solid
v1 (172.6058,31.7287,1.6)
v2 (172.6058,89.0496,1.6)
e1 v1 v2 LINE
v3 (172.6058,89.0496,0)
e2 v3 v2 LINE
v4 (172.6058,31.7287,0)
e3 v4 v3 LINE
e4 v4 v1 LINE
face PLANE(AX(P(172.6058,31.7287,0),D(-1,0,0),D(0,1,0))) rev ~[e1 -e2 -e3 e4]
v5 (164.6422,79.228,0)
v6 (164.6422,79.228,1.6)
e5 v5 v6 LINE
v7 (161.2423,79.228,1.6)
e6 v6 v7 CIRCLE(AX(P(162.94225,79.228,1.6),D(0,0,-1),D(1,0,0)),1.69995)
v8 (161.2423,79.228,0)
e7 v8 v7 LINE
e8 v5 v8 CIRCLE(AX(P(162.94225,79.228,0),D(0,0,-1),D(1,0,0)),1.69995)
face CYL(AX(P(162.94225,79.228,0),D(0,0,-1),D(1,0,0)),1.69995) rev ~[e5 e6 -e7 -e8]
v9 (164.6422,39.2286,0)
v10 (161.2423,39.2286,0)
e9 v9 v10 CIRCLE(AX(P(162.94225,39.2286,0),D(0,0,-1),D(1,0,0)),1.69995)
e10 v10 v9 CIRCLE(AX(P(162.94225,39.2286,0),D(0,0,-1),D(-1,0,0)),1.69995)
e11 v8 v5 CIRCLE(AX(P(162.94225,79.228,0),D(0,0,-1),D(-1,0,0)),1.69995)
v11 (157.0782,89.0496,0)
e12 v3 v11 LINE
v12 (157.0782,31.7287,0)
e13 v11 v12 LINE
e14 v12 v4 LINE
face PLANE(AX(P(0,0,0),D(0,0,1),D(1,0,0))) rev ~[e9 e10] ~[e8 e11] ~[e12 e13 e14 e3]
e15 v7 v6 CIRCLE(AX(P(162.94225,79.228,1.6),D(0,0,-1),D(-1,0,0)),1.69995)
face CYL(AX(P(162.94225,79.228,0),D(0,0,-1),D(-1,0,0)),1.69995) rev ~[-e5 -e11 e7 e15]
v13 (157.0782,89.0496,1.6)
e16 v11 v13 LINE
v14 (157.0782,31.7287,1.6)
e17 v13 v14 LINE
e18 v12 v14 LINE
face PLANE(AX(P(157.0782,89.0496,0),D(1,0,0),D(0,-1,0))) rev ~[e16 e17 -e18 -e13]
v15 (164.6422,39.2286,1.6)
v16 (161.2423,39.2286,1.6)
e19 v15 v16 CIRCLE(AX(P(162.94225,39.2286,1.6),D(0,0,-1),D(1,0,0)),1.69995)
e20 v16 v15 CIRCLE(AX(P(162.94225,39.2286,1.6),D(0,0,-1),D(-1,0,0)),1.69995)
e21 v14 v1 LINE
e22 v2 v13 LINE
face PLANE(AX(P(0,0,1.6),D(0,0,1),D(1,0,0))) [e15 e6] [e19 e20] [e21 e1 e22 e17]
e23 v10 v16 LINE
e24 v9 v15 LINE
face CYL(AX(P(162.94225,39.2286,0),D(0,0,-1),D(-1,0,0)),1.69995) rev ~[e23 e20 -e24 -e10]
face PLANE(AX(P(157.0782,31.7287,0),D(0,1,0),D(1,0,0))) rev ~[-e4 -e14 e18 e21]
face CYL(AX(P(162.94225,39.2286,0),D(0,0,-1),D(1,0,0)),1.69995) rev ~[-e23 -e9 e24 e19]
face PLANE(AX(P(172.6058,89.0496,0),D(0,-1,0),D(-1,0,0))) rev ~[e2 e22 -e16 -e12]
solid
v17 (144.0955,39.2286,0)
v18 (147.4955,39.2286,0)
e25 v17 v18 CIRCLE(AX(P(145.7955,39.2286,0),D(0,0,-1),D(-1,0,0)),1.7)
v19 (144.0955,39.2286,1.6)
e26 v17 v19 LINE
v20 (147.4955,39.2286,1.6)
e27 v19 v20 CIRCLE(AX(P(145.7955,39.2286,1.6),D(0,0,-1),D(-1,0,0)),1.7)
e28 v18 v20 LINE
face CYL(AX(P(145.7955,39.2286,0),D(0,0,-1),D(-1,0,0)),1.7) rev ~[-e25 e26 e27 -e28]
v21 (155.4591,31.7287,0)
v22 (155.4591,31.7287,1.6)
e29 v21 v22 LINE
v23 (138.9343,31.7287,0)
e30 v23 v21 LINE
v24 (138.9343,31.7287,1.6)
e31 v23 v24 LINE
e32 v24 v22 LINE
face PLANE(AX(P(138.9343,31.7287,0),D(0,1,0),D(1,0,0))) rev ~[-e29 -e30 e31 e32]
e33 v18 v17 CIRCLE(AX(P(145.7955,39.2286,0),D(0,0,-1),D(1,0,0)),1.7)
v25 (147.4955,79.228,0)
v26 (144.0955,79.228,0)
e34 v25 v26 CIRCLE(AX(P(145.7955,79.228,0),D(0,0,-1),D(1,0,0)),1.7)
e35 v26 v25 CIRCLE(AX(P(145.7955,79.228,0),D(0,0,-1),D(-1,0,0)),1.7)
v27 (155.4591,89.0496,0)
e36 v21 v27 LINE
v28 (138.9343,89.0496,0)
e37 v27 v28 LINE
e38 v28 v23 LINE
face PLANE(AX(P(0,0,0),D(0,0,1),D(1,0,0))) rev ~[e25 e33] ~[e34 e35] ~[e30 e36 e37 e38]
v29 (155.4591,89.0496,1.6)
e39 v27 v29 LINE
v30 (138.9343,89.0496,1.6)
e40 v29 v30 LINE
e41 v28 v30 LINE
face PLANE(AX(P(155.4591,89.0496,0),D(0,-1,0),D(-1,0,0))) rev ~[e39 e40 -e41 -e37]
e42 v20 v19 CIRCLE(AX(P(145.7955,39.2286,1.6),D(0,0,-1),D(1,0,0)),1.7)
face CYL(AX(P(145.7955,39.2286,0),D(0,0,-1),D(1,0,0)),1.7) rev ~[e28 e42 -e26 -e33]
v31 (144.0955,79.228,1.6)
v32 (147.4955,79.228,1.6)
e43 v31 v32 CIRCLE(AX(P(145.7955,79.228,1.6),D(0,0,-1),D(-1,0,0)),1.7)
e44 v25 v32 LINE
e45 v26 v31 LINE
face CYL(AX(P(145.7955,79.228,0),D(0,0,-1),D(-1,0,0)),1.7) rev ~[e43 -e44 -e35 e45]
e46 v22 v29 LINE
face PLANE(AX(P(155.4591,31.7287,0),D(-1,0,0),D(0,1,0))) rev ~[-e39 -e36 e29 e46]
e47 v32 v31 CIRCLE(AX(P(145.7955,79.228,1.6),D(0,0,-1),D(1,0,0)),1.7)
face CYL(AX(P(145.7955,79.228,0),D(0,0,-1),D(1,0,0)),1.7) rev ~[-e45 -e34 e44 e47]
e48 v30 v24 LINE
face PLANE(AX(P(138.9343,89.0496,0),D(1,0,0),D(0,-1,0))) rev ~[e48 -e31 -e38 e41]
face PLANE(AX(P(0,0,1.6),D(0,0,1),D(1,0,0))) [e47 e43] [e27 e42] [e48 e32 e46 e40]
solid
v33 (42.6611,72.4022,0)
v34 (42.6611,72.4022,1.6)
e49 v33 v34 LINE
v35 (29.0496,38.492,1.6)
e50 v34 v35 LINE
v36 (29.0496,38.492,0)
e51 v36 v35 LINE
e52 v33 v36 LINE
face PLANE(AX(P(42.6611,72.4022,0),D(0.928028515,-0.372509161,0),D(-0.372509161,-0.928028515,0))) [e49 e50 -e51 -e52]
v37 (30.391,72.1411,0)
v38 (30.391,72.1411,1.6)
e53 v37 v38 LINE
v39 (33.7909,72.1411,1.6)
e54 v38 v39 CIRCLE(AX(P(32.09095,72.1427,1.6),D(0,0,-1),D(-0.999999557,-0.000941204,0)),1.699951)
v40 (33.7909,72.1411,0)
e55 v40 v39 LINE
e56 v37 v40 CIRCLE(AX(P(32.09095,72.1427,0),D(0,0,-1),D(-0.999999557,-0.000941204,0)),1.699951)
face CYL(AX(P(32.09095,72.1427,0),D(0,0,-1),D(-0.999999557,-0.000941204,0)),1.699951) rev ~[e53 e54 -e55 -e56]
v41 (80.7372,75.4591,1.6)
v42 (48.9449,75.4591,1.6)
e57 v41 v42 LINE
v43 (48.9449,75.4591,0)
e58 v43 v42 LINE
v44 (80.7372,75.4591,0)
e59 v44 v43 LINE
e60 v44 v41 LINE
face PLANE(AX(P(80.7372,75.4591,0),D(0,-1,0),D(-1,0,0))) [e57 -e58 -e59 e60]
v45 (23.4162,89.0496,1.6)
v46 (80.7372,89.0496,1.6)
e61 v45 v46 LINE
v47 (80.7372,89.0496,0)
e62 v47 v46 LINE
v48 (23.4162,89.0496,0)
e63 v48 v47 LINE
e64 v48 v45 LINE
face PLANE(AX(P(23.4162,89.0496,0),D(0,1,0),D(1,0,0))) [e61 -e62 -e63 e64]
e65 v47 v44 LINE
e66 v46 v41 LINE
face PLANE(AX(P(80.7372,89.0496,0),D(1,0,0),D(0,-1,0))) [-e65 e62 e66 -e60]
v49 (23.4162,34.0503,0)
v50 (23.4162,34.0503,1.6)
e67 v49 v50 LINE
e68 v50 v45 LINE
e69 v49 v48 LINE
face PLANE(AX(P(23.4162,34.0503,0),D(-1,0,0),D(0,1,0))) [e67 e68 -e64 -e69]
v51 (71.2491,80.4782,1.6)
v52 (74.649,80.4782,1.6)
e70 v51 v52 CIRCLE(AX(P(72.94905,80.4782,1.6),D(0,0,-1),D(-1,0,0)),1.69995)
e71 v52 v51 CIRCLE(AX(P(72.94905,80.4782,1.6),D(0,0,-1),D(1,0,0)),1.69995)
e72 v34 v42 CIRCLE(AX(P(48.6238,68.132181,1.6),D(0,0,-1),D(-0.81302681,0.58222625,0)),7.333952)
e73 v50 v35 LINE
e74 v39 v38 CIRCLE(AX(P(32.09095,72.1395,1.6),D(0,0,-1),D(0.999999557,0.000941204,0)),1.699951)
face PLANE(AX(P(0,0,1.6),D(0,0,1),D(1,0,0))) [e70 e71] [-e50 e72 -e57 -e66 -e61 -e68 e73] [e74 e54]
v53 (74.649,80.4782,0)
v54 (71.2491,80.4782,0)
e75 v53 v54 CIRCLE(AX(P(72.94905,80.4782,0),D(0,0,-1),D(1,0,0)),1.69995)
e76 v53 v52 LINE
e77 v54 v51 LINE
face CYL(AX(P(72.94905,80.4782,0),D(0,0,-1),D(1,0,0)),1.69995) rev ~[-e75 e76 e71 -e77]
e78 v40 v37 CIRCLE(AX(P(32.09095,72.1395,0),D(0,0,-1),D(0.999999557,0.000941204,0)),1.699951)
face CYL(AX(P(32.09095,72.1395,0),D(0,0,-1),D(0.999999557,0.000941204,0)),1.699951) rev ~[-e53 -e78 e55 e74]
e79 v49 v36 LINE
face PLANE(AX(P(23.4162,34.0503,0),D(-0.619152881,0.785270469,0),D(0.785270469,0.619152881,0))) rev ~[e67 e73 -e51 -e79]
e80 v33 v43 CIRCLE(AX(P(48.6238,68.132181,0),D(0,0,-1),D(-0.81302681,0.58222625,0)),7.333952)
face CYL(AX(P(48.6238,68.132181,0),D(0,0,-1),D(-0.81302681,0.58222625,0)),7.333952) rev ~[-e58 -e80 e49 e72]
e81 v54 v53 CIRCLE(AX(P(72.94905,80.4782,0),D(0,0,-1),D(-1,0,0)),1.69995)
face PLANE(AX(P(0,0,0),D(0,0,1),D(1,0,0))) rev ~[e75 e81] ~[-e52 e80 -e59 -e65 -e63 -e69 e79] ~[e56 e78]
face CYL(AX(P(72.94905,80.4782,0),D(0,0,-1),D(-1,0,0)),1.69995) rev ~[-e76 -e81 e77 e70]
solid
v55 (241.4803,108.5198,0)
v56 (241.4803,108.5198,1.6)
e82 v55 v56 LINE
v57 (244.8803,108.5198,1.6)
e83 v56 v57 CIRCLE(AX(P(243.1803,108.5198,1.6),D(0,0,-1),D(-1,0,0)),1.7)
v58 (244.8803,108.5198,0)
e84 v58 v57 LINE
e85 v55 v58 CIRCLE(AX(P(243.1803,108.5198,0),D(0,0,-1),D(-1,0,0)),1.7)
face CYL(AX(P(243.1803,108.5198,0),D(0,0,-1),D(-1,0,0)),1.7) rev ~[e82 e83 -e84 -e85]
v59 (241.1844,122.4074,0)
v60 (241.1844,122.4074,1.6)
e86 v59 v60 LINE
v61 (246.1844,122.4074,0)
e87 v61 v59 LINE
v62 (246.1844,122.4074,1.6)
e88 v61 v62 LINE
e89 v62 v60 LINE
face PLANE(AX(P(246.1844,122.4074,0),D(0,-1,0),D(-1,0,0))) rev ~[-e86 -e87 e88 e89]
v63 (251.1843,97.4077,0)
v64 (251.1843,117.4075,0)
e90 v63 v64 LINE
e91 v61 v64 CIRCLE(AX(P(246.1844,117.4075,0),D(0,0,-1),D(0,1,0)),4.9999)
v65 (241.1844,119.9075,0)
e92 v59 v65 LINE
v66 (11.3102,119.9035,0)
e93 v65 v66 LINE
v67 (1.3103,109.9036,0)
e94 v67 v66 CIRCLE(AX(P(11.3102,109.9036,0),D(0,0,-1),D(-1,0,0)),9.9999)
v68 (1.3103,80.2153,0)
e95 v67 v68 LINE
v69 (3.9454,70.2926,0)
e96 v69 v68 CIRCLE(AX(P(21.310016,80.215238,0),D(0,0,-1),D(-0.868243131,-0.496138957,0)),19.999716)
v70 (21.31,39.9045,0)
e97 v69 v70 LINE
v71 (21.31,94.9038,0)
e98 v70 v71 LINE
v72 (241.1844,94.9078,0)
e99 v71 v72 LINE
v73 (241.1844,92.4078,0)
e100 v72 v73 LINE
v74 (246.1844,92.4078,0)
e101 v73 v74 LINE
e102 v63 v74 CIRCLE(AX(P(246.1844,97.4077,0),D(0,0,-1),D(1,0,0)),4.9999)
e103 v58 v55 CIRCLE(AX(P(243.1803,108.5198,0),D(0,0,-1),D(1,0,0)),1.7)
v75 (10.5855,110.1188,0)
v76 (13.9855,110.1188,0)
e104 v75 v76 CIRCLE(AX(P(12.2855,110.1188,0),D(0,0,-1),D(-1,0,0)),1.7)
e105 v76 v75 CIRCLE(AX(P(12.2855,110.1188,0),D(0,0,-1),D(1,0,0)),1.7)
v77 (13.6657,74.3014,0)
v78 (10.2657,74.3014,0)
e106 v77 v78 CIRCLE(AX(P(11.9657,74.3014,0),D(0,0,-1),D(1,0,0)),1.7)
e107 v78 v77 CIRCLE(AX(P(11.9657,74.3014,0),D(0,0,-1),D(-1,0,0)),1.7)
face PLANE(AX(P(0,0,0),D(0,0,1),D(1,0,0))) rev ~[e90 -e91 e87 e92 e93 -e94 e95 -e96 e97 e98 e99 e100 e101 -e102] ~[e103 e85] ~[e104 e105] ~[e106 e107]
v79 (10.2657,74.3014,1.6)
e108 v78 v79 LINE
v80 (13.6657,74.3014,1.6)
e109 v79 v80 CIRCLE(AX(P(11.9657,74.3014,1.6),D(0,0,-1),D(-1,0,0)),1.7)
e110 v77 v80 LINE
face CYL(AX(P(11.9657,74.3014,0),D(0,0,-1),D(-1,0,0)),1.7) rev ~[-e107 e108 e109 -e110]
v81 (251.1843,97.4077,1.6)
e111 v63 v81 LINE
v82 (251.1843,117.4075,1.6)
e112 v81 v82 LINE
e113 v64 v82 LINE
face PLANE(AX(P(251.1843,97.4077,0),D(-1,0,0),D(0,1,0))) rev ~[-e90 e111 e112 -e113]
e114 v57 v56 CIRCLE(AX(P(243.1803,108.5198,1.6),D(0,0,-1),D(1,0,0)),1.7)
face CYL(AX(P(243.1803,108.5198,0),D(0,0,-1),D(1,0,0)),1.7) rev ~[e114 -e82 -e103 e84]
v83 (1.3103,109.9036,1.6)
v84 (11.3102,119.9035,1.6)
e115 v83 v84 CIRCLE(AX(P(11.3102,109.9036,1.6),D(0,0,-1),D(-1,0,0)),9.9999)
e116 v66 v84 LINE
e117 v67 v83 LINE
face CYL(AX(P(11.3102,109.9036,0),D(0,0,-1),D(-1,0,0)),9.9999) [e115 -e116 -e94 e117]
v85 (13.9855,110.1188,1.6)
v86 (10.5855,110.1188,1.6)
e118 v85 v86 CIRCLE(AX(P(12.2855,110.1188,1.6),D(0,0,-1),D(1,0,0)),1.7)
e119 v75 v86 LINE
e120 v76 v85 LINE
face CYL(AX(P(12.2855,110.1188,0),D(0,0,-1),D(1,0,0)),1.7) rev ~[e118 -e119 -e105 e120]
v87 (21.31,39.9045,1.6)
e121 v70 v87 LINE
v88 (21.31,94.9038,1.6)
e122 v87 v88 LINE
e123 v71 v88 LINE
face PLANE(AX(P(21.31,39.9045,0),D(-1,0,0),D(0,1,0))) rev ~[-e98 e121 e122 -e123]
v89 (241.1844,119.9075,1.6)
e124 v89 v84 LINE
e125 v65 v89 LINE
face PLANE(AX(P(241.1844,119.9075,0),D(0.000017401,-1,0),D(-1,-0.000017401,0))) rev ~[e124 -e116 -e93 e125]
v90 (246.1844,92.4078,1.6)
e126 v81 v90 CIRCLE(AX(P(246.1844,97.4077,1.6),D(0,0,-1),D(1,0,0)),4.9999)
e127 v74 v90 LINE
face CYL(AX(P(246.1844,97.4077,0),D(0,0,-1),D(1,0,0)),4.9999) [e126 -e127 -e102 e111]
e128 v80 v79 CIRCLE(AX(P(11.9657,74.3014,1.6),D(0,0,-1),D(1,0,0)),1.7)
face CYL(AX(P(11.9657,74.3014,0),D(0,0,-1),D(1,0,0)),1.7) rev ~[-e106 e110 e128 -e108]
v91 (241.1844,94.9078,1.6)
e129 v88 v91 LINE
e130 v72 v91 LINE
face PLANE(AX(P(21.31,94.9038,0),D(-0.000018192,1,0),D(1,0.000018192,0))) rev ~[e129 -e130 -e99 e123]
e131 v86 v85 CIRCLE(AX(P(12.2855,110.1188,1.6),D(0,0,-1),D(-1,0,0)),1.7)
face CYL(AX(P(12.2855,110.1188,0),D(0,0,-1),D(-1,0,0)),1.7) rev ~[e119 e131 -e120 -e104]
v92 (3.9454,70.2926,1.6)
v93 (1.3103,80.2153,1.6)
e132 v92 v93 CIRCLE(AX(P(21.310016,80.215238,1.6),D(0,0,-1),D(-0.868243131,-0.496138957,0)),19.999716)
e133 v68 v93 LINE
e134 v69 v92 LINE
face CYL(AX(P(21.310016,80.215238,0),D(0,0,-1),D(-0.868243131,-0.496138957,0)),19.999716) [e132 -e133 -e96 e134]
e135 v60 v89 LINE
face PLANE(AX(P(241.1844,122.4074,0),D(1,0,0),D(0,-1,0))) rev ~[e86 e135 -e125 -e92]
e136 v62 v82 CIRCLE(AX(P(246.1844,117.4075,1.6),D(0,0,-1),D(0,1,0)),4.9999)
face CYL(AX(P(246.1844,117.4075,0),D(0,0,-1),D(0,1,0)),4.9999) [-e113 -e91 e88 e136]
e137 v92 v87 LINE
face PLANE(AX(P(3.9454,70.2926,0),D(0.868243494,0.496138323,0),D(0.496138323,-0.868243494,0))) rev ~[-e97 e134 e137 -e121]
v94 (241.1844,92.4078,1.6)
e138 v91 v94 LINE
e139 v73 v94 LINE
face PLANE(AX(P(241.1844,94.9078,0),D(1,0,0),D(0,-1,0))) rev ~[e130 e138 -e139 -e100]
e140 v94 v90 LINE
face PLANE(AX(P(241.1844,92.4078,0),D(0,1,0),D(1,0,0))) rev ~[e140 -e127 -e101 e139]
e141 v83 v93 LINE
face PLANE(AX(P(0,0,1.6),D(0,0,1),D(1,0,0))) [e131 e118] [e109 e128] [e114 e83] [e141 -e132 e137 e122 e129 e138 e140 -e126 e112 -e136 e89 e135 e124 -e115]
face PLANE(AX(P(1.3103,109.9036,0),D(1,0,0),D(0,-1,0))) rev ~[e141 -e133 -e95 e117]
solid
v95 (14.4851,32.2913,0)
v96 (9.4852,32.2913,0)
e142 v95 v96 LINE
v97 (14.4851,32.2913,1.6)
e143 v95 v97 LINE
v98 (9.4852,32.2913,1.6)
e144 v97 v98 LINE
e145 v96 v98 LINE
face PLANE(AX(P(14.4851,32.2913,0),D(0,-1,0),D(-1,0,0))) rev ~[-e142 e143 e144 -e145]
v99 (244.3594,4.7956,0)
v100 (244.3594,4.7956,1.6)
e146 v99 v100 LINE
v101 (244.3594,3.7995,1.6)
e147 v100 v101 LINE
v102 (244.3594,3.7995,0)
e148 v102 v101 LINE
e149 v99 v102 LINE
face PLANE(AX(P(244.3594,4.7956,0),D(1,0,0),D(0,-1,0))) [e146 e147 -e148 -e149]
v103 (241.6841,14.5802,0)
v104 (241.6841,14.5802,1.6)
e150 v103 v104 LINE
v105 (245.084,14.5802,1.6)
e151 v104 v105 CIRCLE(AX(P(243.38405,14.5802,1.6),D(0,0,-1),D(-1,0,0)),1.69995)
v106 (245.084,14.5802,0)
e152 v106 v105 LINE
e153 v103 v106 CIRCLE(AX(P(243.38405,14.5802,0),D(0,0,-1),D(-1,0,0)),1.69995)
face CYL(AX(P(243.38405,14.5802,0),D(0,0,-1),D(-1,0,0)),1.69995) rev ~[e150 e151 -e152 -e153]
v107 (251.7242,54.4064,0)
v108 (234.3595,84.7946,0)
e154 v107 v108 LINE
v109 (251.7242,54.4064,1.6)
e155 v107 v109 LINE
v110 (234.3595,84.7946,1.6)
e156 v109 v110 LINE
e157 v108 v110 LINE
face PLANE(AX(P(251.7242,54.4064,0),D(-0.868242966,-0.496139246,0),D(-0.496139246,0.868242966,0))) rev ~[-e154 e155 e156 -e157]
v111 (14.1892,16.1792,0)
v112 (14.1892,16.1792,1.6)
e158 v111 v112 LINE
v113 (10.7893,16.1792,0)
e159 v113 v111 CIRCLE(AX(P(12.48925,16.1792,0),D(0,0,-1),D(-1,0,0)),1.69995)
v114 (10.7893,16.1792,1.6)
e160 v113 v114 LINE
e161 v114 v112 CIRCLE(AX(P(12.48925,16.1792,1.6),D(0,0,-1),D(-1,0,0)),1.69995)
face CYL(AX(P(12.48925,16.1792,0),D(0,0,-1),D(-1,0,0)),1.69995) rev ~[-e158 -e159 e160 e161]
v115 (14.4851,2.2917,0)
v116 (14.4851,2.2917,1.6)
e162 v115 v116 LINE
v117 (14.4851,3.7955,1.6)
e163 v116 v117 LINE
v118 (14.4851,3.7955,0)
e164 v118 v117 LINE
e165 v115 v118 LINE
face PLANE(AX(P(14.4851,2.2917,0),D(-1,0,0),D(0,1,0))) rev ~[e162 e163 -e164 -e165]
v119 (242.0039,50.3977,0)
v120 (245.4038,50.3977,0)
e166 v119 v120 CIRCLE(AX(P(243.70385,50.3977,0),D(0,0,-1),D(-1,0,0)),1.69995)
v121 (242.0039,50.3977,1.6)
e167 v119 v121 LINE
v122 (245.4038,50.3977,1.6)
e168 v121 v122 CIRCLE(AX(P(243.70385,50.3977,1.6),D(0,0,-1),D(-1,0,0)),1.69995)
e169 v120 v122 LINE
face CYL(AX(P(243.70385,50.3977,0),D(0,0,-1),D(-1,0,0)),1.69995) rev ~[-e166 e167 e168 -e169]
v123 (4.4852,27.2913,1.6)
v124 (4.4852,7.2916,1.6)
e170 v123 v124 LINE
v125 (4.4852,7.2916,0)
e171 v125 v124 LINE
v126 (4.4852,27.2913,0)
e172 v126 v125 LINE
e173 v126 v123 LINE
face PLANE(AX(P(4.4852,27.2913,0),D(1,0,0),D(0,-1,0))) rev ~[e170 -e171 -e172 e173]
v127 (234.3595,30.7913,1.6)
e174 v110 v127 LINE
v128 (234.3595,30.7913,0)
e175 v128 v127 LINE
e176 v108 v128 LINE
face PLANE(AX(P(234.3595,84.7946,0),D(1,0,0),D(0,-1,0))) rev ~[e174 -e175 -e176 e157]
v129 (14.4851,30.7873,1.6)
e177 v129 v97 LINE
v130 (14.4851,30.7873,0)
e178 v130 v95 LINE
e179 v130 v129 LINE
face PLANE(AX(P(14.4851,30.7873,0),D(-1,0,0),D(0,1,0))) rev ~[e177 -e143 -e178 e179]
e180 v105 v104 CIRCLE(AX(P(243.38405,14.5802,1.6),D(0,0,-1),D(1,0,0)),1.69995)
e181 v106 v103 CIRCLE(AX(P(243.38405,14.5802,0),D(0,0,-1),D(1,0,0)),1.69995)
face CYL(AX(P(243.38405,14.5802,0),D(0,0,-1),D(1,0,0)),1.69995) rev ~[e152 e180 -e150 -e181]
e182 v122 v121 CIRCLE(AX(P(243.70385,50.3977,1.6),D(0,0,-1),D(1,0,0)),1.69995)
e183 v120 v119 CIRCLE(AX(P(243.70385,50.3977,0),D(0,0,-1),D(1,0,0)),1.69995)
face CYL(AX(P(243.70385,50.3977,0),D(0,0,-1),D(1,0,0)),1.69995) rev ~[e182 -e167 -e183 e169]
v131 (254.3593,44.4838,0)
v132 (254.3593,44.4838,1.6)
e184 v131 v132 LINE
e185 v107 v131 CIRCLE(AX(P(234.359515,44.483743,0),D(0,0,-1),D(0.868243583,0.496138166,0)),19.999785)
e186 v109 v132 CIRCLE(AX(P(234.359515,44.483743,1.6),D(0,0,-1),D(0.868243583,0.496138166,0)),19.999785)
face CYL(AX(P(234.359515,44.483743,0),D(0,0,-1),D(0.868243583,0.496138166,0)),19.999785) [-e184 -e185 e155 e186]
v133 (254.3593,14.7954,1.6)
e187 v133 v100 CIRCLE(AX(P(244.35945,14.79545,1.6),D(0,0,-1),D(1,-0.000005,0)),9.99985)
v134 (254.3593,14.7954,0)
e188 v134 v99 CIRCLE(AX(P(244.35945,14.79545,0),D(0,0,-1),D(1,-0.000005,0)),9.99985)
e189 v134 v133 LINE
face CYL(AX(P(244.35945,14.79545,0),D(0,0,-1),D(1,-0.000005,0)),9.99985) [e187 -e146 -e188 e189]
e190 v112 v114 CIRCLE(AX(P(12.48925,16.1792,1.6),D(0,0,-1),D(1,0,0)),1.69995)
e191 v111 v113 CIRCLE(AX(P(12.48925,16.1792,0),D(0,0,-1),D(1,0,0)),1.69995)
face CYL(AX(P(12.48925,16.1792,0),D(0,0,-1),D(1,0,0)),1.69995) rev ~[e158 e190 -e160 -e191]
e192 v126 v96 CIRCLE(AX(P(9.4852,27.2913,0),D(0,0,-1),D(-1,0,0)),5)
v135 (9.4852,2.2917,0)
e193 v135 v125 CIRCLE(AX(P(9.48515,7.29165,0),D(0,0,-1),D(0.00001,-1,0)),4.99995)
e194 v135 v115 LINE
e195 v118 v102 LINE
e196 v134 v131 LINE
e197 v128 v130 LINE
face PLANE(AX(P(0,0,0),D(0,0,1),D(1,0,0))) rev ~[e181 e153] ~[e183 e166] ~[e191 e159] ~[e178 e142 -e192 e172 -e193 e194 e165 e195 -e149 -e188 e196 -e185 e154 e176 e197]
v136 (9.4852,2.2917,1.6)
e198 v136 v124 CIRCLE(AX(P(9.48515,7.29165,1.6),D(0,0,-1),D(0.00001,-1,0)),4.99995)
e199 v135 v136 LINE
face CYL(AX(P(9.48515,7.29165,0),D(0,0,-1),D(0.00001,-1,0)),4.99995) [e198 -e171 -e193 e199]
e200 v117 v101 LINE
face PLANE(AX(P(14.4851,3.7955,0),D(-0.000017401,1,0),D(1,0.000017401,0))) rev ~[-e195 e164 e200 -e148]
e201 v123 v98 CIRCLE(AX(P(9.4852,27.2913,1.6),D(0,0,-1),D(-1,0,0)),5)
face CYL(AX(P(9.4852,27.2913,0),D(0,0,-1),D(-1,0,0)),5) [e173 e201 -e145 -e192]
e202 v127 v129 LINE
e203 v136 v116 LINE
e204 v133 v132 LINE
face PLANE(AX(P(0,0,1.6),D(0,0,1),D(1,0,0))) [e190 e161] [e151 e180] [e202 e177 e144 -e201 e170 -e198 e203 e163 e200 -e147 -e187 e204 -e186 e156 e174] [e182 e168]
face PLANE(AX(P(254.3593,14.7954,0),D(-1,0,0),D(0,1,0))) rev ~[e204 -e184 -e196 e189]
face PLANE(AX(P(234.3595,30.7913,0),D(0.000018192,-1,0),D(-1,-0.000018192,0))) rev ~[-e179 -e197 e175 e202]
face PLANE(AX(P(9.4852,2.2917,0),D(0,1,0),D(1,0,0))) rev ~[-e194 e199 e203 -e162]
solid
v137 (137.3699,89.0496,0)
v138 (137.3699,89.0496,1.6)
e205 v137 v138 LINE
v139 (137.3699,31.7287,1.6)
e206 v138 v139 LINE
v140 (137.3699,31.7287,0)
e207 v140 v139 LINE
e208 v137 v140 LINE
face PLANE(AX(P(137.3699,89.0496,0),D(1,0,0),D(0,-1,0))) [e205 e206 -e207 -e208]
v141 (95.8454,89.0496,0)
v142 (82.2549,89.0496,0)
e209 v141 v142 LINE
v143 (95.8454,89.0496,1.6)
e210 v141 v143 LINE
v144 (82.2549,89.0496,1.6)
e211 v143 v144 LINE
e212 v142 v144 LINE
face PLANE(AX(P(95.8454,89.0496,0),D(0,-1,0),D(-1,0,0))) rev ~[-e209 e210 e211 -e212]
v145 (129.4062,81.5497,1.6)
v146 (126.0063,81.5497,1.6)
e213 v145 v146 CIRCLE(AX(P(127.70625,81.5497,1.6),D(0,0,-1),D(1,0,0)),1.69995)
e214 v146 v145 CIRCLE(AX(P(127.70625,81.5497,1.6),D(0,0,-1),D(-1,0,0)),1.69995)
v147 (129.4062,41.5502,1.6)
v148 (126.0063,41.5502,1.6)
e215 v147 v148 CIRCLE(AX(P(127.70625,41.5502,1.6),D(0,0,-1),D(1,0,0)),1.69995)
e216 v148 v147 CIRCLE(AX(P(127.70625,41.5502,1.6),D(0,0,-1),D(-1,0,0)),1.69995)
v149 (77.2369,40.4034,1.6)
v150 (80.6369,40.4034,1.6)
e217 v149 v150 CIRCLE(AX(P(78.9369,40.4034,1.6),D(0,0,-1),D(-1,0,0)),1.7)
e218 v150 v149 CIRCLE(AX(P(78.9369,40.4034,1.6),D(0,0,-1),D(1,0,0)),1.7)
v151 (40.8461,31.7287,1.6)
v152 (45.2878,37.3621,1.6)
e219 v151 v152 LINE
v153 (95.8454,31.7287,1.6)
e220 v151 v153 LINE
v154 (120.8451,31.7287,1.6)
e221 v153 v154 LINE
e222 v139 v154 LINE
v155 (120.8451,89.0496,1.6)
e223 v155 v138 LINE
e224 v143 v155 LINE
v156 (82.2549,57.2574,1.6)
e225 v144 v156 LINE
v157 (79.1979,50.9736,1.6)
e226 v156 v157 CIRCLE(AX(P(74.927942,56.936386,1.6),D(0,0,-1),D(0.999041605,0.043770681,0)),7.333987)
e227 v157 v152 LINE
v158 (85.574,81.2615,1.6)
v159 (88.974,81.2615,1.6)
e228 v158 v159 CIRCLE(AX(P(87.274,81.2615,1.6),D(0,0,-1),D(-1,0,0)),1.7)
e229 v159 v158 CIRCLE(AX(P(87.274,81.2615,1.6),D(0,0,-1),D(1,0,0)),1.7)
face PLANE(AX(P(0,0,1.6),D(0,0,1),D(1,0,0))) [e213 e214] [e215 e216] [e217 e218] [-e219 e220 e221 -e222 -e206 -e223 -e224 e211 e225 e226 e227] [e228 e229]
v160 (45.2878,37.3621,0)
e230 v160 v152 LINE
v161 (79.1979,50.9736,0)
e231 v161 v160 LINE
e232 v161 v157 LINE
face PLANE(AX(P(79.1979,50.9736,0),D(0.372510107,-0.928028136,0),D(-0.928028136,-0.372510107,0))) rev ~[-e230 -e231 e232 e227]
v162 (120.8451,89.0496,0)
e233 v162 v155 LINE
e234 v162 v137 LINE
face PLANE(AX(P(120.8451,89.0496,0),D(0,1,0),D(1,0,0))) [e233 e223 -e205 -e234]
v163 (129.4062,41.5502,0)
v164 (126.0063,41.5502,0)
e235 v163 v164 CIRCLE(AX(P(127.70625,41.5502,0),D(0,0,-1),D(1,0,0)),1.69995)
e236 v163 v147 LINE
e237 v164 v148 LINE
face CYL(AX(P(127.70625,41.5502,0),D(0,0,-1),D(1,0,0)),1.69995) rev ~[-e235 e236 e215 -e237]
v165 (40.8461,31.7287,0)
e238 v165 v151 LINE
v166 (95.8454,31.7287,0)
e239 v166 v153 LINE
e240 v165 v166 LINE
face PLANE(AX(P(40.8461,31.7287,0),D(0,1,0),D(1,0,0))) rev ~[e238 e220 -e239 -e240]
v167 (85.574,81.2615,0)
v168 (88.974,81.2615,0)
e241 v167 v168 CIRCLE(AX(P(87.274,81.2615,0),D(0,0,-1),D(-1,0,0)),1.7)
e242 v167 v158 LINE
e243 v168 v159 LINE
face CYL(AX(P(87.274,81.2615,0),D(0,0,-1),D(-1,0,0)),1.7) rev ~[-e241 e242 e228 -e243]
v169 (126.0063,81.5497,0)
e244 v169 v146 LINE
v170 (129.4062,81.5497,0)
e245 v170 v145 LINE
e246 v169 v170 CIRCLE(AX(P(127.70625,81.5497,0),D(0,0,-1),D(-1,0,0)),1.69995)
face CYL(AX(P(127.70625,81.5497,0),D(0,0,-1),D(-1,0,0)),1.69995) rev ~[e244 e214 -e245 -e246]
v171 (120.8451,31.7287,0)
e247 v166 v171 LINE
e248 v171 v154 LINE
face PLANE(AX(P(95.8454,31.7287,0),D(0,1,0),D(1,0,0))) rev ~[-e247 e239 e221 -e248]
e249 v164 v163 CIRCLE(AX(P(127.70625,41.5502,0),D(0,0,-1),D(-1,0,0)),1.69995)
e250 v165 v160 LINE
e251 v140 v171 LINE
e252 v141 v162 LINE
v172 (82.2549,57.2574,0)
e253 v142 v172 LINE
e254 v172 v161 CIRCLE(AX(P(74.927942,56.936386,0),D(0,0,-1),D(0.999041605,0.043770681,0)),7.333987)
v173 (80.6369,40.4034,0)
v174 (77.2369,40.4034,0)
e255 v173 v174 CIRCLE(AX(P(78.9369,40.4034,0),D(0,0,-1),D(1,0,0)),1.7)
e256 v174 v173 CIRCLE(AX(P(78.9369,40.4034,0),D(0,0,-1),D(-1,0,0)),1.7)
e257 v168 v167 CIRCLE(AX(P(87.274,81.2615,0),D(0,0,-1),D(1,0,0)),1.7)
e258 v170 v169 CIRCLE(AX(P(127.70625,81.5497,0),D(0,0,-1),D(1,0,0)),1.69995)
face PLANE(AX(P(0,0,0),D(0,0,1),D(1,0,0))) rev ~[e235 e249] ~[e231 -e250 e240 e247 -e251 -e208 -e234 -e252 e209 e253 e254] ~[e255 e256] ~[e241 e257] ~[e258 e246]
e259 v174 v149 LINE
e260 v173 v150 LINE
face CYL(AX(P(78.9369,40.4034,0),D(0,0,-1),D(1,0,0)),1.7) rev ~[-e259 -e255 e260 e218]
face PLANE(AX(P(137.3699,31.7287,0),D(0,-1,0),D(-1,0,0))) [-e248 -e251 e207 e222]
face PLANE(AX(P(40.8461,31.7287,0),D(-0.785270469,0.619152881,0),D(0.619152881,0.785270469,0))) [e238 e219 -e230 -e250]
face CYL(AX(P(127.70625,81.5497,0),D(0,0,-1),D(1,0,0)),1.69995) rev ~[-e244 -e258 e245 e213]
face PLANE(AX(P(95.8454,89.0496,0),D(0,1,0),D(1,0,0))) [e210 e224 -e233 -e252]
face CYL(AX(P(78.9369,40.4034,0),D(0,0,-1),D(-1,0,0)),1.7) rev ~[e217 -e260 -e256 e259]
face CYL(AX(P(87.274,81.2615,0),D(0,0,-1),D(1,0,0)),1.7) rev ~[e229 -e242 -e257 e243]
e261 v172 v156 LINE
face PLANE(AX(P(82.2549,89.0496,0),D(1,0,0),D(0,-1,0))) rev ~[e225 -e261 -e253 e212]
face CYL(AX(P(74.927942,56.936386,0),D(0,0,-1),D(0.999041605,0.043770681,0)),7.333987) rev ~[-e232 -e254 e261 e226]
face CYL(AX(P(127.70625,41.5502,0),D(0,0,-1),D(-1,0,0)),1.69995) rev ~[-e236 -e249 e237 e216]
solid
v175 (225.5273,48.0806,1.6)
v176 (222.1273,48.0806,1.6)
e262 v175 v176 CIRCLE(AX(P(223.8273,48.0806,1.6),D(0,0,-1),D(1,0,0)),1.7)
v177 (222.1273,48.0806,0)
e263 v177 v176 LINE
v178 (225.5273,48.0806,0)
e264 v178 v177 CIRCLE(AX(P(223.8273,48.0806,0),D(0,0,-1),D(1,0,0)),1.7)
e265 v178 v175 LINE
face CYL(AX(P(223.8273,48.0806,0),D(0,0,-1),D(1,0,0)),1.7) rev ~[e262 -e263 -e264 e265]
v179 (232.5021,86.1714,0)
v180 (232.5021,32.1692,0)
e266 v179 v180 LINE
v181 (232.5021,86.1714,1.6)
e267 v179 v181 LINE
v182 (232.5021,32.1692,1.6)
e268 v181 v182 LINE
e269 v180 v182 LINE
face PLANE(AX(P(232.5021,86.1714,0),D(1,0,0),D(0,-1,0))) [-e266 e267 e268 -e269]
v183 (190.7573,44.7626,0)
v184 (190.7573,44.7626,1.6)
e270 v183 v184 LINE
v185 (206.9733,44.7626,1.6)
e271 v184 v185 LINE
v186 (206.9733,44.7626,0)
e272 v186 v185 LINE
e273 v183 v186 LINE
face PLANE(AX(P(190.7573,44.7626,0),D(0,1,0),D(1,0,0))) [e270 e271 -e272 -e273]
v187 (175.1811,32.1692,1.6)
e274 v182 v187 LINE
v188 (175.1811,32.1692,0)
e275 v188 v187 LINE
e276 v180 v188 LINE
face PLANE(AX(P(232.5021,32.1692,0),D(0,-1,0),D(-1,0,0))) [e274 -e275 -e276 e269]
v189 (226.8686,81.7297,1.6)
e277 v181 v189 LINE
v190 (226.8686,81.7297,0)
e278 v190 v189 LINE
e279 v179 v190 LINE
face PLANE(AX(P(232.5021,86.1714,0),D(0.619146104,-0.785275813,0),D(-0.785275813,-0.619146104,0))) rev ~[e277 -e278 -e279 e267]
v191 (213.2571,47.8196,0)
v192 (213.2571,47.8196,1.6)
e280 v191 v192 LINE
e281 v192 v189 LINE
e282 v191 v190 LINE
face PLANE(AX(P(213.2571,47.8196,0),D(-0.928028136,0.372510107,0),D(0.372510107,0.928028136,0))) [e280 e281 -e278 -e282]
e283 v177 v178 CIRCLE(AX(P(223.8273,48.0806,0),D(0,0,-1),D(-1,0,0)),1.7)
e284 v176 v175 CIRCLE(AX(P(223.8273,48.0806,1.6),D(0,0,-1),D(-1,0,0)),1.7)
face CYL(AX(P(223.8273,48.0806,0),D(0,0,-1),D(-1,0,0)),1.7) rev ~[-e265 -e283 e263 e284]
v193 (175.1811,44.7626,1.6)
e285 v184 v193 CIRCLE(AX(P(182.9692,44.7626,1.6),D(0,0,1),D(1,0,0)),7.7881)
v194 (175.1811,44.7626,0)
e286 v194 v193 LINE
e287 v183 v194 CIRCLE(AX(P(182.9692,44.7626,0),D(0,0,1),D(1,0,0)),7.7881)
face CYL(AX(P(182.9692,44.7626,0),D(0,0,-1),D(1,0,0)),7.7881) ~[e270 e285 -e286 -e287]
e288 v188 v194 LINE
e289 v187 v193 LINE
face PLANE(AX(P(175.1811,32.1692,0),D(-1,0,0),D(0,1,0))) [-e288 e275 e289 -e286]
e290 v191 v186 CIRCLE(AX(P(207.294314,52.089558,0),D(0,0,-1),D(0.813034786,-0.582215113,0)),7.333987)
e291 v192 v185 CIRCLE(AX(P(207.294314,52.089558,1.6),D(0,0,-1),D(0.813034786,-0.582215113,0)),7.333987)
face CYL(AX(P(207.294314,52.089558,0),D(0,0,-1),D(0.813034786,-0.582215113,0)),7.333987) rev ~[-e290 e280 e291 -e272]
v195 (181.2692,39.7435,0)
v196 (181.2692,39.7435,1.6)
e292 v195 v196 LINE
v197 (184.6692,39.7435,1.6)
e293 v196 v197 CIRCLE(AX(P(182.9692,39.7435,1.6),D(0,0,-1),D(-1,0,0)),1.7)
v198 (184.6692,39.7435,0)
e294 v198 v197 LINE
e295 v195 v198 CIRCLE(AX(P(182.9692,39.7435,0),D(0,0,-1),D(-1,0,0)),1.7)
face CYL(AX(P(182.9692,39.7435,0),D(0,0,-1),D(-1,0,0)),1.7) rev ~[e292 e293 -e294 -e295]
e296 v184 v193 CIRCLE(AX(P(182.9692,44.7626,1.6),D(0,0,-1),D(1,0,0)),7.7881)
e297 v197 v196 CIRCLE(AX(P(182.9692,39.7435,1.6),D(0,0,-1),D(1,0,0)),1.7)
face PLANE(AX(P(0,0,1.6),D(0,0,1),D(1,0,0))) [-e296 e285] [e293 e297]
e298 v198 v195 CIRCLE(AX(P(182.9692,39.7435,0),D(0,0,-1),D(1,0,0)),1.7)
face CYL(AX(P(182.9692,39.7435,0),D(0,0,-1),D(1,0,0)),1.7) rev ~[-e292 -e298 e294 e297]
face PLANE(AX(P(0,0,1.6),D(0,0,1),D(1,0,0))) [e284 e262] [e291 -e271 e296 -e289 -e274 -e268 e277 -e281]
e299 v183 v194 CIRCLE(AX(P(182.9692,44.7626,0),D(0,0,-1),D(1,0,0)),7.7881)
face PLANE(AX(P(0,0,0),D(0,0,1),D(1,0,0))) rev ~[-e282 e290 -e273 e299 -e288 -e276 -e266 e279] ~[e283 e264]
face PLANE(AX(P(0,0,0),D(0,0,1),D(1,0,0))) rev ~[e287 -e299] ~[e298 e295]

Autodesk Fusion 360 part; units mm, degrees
sketch "Sketch1" plane through (0, 0, 0) normal (0, 0, 1) x (1, 0, 0) in component "Component"
  line L0 (21.31, 39.9045) -> (21.31, 94.9038)
  line L1 (3.9454, 70.2926) -> (21.31, 39.9045)
  arc A0 (3.9454, 70.2926) -> (1.3103, 80.2153) centre (21.31, 80.2153) cw
  line L2 (1.3103, 109.9036) -> (1.3103, 80.2153)
  arc A1 (1.3103, 109.9036) -> (11.3102, 119.9035) centre (11.3102, 109.9036) cw
  line L3 (241.1844, 119.9075) -> (11.3102, 119.9035)
  line L4 (241.1844, 122.4074) -> (241.1844, 119.9075)
  line L5 (246.1844, 122.4074) -> (241.1844, 122.4074)
  arc A2 (246.1844, 122.4074) -> (251.1843, 117.4075) centre (246.1844, 117.4075) cw
  line L6 (251.1843, 97.4077) -> (251.1843, 117.4075)
  arc A3 (251.1843, 97.4077) -> (246.1844, 92.4078) centre (246.1844, 97.4077) cw
  line L7 (241.1844, 92.4078) -> (246.1844, 92.4078)
  line L8 (241.1844, 94.9078) -> (241.1844, 92.4078)
  line L9 (42.6611, 72.4022) -> (29.0496, 38.492)
  line L10 (80.7372, 89.0496) -> (80.7372, 75.4591)
  line L11 (23.4162, 89.0496) -> (80.7372, 89.0496)
  line L12 (23.4162, 34.0503) -> (23.4162, 89.0496)
  line L13 (21.31, 94.9038) -> (241.1844, 94.9078)
  line L14 (80.7372, 75.4591) -> (48.9449, 75.4591)
  arc A4 (42.6611, 72.4022) -> (48.9453, 75.4591) centre (48.6238, 68.1321) cw
  line L15 (23.4162, 34.0503) -> (29.0496, 38.492)
  arc A5 (30.391, 72.1411) -> (33.7909, 72.1411) centre (32.0909, 72.1427) cw
  arc A6 (33.7909, 72.1411) -> (30.391, 72.1411) centre (32.0909, 72.1395) cw
  arc A7 (74.649, 80.4782) -> (71.2491, 80.4782) centre (72.949, 80.4782) cw
  arc A8 (71.2491, 80.4782) -> (74.649, 80.4782) centre (72.949, 80.4782) cw
  line L16 (155.4591, 31.7287) -> (155.4591, 89.0496)
  line L17 (138.9343, 31.7287) -> (155.4591, 31.7287)
  arc A9 (144.0955, 79.228) -> (147.4955, 79.228) centre (145.7955, 79.228) cw
  arc A10 (147.4955, 79.228) -> (144.0955, 79.228) centre (145.7955, 79.228) cw
  arc A11 (144.0955, 39.2286) -> (147.4955, 39.2286) centre (145.7955, 39.2286) cw
  arc A12 (147.4955, 39.2286) -> (144.0955, 39.2286) centre (145.7955, 39.2286) cw
  line L18 (138.9343, 89.0496) -> (138.9343, 31.7287)
  line L19 (155.4591, 89.0496) -> (138.9343, 89.0496)
  line L20 (137.3699, 89.0496) -> (137.3699, 31.7287)
  line L21 (120.8451, 89.0496) -> (137.3699, 89.0496)
  arc A13 (126.0063, 41.5502) -> (129.4062, 41.5502) centre (127.7063, 41.5502) cw
  arc A14 (129.4062, 41.5502) -> (126.0063, 41.5502) centre (127.7063, 41.5502) cw
  arc A15 (126.0063, 81.5497) -> (129.4062, 81.5497) centre (127.7063, 81.5497) cw
  arc A16 (129.4062, 81.5497) -> (126.0063, 81.5497) centre (127.7063, 81.5497) cw
  line L22 (137.3699, 31.7287) -> (120.8451, 31.7287)
  arc A17 (85.574, 81.2615) -> (88.974, 81.2615) centre (87.274, 81.2615) cw
  arc A18 (88.974, 81.2615) -> (85.574, 81.2615) centre (87.274, 81.2615) cw
  arc A19 (80.6369, 40.4034) -> (77.2369, 40.4034) centre (78.9369, 40.4034) cw
  arc A20 (77.2369, 40.4034) -> (80.6369, 40.4034) centre (78.9369, 40.4034) cw
  arc A21 (82.2549, 57.2574) -> (79.1979, 50.9736) centre (74.9279, 56.9363) cw
  line L23 (79.1979, 50.9736) -> (45.2878, 37.3621)
  line L24 (40.8461, 31.7287) -> (45.2878, 37.3621)
  line L25 (82.2549, 89.0496) -> (82.2549, 57.2574)
  line L26 (40.8461, 31.7287) -> (95.8454, 31.7287)
  line L27 (95.8454, 89.0496) -> (82.2549, 89.0496)
  line L28 (95.8454, 31.7287) -> (120.8451, 31.7287)
  line L29 (95.8454, 89.0496) -> (120.8451, 89.0496)
  line L30 (172.6058, 31.7287) -> (172.6058, 89.0496)
  line L31 (157.0782, 31.7287) -> (172.6058, 31.7287)
  arc A22 (161.2423, 79.228) -> (164.6422, 79.228) centre (162.9422, 79.228) cw
  arc A23 (164.6422, 79.228) -> (161.2423, 79.228) centre (162.9422, 79.228) cw
  arc A24 (161.2423, 39.2286) -> (164.6422, 39.2286) centre (162.9422, 39.2286) cw
  arc A25 (164.6422, 39.2286) -> (161.2423, 39.2286) centre (162.9422, 39.2286) cw
  line L32 (157.0782, 89.0496) -> (157.0782, 31.7287)
  line L33 (172.6058, 89.0496) -> (157.0782, 89.0496)
  arc A26 (184.6692, 39.7435) -> (181.2692, 39.7435) centre (182.9692, 39.7435) cw
  arc A27 (181.2692, 39.7435) -> (184.6692, 39.7435) centre (182.9692, 39.7435) cw
  arc A28 (225.5273, 48.0806) -> (222.1273, 48.0806) centre (223.8273, 48.0806) cw
  arc A29 (222.1273, 48.0806) -> (225.5273, 48.0806) centre (223.8273, 48.0806) cw
  arc A30 (213.2571, 47.8196) -> (206.9733, 44.7626) centre (207.2944, 52.0896) cw
  line L34 (213.2571, 47.8196) -> (226.8686, 81.7297)
  line L35 (232.5021, 86.1714) -> (226.8686, 81.7297)
  line L36 (190.7573, 44.7626) -> (206.9733, 44.7626)
  line L37 (232.5021, 86.1714) -> (232.5021, 32.1692)
  line L38 (232.5021, 32.1692) -> (175.1811, 32.1692)
  line L39 (175.1811, 32.1692) -> (175.1811, 44.7626)
  line L40 (234.3595, 30.7913) -> (14.4851, 30.7873)
  line L41 (14.4851, 30.7873) -> (14.4851, 32.2913)
  line L42 (14.4851, 32.2913) -> (9.4852, 32.2913)
  arc A31 (4.4852, 27.2913) -> (9.4852, 32.2913) centre (9.4852, 27.2913) cw
  line L43 (4.4852, 27.2913) -> (4.4852, 7.2916)
  arc A32 (9.4852, 2.2917) -> (4.4852, 7.2916) centre (9.4852, 7.2916) cw
  line L44 (9.4852, 2.2917) -> (14.4851, 2.2917)
  line L45 (14.4851, 2.2917) -> (14.4851, 3.7955)
  line L46 (14.4851, 3.7955) -> (244.3594, 3.7995)
  arc A33 (254.3593, 14.7954) -> (244.3594, 4.7956) centre (244.3594, 14.7954) cw
  line L47 (254.3593, 14.7954) -> (254.3593, 44.4838)
  arc A34 (251.7242, 54.4064) -> (254.3593, 44.4838) centre (234.3595, 44.4838) cw
  line L48 (251.7242, 54.4064) -> (234.3595, 84.7946)
  line L49 (234.3595, 84.7946) -> (234.3595, 30.7913)
  arc A35 (13.6657, 74.3014) -> (10.2657, 74.3014) centre (11.9657, 74.3014) cw
  arc A36 (10.2657, 74.3014) -> (13.6657, 74.3014) centre (11.9657, 74.3014) cw
  arc A37 (13.9855, 110.1188) -> (10.5855, 110.1188) centre (12.2855, 110.1188) cw
  arc A38 (10.5855, 110.1188) -> (13.9855, 110.1188) centre (12.2855, 110.1188) cw
  arc A39 (244.8803, 108.5198) -> (241.4803, 108.5198) centre (243.1803, 108.5198) cw
  arc A40 (241.4803, 108.5198) -> (244.8803, 108.5198) centre (243.1803, 108.5198) cw
  arc A41 (245.4038, 50.3977) -> (242.0039, 50.3977) centre (243.7038, 50.3977) cw
  arc A42 (242.0039, 50.3977) -> (245.4038, 50.3977) centre (243.7038, 50.3977) cw
  arc A43 (245.084, 14.5802) -> (241.6841, 14.5802) centre (243.384, 14.5802) cw
  arc A44 (241.6841, 14.5802) -> (245.084, 14.5802) centre (243.384, 14.5802) cw
  arc A45 (14.1892, 16.1792) -> (10.7893, 16.1792) centre (12.4892, 16.1792) cw
  arc A46 (10.7893, 16.1792) -> (14.1892, 16.1792) centre (12.4892, 16.1792) cw
  arc A47 (190.7573, 44.7626) -> (175.1811, 44.7626) centre (182.9692, 44.7626) cw
  line L50 (244.3594, 4.7956) -> (244.3594, 3.7995)
  arc A48 (190.7573, 44.7626) -> (175.1811, 44.7626) centre (182.9692, 44.7626) ccw
extrude "Extrude1" add sketch "Sketch1" along normal blind 1.6 makes body 1 at (169.8952, 66.4229, 0) makes body 2 at (91.2682, 111.5716, 0) makes body 3 at (152.7484, 66.4229, 0) makes body 4 at (207.8348, 38.4488, 0) makes body 5 at (48.0834, 82.1053, 0) makes body 6 at (111.725, 60.1191, 0) makes body 7 at (164.4013, 12.7954, 0) in component "Component"
component "Component" placed x (1, 0, 0) y (0, 1, 0) z (0, 0, 1) at (0, 0, 0)
